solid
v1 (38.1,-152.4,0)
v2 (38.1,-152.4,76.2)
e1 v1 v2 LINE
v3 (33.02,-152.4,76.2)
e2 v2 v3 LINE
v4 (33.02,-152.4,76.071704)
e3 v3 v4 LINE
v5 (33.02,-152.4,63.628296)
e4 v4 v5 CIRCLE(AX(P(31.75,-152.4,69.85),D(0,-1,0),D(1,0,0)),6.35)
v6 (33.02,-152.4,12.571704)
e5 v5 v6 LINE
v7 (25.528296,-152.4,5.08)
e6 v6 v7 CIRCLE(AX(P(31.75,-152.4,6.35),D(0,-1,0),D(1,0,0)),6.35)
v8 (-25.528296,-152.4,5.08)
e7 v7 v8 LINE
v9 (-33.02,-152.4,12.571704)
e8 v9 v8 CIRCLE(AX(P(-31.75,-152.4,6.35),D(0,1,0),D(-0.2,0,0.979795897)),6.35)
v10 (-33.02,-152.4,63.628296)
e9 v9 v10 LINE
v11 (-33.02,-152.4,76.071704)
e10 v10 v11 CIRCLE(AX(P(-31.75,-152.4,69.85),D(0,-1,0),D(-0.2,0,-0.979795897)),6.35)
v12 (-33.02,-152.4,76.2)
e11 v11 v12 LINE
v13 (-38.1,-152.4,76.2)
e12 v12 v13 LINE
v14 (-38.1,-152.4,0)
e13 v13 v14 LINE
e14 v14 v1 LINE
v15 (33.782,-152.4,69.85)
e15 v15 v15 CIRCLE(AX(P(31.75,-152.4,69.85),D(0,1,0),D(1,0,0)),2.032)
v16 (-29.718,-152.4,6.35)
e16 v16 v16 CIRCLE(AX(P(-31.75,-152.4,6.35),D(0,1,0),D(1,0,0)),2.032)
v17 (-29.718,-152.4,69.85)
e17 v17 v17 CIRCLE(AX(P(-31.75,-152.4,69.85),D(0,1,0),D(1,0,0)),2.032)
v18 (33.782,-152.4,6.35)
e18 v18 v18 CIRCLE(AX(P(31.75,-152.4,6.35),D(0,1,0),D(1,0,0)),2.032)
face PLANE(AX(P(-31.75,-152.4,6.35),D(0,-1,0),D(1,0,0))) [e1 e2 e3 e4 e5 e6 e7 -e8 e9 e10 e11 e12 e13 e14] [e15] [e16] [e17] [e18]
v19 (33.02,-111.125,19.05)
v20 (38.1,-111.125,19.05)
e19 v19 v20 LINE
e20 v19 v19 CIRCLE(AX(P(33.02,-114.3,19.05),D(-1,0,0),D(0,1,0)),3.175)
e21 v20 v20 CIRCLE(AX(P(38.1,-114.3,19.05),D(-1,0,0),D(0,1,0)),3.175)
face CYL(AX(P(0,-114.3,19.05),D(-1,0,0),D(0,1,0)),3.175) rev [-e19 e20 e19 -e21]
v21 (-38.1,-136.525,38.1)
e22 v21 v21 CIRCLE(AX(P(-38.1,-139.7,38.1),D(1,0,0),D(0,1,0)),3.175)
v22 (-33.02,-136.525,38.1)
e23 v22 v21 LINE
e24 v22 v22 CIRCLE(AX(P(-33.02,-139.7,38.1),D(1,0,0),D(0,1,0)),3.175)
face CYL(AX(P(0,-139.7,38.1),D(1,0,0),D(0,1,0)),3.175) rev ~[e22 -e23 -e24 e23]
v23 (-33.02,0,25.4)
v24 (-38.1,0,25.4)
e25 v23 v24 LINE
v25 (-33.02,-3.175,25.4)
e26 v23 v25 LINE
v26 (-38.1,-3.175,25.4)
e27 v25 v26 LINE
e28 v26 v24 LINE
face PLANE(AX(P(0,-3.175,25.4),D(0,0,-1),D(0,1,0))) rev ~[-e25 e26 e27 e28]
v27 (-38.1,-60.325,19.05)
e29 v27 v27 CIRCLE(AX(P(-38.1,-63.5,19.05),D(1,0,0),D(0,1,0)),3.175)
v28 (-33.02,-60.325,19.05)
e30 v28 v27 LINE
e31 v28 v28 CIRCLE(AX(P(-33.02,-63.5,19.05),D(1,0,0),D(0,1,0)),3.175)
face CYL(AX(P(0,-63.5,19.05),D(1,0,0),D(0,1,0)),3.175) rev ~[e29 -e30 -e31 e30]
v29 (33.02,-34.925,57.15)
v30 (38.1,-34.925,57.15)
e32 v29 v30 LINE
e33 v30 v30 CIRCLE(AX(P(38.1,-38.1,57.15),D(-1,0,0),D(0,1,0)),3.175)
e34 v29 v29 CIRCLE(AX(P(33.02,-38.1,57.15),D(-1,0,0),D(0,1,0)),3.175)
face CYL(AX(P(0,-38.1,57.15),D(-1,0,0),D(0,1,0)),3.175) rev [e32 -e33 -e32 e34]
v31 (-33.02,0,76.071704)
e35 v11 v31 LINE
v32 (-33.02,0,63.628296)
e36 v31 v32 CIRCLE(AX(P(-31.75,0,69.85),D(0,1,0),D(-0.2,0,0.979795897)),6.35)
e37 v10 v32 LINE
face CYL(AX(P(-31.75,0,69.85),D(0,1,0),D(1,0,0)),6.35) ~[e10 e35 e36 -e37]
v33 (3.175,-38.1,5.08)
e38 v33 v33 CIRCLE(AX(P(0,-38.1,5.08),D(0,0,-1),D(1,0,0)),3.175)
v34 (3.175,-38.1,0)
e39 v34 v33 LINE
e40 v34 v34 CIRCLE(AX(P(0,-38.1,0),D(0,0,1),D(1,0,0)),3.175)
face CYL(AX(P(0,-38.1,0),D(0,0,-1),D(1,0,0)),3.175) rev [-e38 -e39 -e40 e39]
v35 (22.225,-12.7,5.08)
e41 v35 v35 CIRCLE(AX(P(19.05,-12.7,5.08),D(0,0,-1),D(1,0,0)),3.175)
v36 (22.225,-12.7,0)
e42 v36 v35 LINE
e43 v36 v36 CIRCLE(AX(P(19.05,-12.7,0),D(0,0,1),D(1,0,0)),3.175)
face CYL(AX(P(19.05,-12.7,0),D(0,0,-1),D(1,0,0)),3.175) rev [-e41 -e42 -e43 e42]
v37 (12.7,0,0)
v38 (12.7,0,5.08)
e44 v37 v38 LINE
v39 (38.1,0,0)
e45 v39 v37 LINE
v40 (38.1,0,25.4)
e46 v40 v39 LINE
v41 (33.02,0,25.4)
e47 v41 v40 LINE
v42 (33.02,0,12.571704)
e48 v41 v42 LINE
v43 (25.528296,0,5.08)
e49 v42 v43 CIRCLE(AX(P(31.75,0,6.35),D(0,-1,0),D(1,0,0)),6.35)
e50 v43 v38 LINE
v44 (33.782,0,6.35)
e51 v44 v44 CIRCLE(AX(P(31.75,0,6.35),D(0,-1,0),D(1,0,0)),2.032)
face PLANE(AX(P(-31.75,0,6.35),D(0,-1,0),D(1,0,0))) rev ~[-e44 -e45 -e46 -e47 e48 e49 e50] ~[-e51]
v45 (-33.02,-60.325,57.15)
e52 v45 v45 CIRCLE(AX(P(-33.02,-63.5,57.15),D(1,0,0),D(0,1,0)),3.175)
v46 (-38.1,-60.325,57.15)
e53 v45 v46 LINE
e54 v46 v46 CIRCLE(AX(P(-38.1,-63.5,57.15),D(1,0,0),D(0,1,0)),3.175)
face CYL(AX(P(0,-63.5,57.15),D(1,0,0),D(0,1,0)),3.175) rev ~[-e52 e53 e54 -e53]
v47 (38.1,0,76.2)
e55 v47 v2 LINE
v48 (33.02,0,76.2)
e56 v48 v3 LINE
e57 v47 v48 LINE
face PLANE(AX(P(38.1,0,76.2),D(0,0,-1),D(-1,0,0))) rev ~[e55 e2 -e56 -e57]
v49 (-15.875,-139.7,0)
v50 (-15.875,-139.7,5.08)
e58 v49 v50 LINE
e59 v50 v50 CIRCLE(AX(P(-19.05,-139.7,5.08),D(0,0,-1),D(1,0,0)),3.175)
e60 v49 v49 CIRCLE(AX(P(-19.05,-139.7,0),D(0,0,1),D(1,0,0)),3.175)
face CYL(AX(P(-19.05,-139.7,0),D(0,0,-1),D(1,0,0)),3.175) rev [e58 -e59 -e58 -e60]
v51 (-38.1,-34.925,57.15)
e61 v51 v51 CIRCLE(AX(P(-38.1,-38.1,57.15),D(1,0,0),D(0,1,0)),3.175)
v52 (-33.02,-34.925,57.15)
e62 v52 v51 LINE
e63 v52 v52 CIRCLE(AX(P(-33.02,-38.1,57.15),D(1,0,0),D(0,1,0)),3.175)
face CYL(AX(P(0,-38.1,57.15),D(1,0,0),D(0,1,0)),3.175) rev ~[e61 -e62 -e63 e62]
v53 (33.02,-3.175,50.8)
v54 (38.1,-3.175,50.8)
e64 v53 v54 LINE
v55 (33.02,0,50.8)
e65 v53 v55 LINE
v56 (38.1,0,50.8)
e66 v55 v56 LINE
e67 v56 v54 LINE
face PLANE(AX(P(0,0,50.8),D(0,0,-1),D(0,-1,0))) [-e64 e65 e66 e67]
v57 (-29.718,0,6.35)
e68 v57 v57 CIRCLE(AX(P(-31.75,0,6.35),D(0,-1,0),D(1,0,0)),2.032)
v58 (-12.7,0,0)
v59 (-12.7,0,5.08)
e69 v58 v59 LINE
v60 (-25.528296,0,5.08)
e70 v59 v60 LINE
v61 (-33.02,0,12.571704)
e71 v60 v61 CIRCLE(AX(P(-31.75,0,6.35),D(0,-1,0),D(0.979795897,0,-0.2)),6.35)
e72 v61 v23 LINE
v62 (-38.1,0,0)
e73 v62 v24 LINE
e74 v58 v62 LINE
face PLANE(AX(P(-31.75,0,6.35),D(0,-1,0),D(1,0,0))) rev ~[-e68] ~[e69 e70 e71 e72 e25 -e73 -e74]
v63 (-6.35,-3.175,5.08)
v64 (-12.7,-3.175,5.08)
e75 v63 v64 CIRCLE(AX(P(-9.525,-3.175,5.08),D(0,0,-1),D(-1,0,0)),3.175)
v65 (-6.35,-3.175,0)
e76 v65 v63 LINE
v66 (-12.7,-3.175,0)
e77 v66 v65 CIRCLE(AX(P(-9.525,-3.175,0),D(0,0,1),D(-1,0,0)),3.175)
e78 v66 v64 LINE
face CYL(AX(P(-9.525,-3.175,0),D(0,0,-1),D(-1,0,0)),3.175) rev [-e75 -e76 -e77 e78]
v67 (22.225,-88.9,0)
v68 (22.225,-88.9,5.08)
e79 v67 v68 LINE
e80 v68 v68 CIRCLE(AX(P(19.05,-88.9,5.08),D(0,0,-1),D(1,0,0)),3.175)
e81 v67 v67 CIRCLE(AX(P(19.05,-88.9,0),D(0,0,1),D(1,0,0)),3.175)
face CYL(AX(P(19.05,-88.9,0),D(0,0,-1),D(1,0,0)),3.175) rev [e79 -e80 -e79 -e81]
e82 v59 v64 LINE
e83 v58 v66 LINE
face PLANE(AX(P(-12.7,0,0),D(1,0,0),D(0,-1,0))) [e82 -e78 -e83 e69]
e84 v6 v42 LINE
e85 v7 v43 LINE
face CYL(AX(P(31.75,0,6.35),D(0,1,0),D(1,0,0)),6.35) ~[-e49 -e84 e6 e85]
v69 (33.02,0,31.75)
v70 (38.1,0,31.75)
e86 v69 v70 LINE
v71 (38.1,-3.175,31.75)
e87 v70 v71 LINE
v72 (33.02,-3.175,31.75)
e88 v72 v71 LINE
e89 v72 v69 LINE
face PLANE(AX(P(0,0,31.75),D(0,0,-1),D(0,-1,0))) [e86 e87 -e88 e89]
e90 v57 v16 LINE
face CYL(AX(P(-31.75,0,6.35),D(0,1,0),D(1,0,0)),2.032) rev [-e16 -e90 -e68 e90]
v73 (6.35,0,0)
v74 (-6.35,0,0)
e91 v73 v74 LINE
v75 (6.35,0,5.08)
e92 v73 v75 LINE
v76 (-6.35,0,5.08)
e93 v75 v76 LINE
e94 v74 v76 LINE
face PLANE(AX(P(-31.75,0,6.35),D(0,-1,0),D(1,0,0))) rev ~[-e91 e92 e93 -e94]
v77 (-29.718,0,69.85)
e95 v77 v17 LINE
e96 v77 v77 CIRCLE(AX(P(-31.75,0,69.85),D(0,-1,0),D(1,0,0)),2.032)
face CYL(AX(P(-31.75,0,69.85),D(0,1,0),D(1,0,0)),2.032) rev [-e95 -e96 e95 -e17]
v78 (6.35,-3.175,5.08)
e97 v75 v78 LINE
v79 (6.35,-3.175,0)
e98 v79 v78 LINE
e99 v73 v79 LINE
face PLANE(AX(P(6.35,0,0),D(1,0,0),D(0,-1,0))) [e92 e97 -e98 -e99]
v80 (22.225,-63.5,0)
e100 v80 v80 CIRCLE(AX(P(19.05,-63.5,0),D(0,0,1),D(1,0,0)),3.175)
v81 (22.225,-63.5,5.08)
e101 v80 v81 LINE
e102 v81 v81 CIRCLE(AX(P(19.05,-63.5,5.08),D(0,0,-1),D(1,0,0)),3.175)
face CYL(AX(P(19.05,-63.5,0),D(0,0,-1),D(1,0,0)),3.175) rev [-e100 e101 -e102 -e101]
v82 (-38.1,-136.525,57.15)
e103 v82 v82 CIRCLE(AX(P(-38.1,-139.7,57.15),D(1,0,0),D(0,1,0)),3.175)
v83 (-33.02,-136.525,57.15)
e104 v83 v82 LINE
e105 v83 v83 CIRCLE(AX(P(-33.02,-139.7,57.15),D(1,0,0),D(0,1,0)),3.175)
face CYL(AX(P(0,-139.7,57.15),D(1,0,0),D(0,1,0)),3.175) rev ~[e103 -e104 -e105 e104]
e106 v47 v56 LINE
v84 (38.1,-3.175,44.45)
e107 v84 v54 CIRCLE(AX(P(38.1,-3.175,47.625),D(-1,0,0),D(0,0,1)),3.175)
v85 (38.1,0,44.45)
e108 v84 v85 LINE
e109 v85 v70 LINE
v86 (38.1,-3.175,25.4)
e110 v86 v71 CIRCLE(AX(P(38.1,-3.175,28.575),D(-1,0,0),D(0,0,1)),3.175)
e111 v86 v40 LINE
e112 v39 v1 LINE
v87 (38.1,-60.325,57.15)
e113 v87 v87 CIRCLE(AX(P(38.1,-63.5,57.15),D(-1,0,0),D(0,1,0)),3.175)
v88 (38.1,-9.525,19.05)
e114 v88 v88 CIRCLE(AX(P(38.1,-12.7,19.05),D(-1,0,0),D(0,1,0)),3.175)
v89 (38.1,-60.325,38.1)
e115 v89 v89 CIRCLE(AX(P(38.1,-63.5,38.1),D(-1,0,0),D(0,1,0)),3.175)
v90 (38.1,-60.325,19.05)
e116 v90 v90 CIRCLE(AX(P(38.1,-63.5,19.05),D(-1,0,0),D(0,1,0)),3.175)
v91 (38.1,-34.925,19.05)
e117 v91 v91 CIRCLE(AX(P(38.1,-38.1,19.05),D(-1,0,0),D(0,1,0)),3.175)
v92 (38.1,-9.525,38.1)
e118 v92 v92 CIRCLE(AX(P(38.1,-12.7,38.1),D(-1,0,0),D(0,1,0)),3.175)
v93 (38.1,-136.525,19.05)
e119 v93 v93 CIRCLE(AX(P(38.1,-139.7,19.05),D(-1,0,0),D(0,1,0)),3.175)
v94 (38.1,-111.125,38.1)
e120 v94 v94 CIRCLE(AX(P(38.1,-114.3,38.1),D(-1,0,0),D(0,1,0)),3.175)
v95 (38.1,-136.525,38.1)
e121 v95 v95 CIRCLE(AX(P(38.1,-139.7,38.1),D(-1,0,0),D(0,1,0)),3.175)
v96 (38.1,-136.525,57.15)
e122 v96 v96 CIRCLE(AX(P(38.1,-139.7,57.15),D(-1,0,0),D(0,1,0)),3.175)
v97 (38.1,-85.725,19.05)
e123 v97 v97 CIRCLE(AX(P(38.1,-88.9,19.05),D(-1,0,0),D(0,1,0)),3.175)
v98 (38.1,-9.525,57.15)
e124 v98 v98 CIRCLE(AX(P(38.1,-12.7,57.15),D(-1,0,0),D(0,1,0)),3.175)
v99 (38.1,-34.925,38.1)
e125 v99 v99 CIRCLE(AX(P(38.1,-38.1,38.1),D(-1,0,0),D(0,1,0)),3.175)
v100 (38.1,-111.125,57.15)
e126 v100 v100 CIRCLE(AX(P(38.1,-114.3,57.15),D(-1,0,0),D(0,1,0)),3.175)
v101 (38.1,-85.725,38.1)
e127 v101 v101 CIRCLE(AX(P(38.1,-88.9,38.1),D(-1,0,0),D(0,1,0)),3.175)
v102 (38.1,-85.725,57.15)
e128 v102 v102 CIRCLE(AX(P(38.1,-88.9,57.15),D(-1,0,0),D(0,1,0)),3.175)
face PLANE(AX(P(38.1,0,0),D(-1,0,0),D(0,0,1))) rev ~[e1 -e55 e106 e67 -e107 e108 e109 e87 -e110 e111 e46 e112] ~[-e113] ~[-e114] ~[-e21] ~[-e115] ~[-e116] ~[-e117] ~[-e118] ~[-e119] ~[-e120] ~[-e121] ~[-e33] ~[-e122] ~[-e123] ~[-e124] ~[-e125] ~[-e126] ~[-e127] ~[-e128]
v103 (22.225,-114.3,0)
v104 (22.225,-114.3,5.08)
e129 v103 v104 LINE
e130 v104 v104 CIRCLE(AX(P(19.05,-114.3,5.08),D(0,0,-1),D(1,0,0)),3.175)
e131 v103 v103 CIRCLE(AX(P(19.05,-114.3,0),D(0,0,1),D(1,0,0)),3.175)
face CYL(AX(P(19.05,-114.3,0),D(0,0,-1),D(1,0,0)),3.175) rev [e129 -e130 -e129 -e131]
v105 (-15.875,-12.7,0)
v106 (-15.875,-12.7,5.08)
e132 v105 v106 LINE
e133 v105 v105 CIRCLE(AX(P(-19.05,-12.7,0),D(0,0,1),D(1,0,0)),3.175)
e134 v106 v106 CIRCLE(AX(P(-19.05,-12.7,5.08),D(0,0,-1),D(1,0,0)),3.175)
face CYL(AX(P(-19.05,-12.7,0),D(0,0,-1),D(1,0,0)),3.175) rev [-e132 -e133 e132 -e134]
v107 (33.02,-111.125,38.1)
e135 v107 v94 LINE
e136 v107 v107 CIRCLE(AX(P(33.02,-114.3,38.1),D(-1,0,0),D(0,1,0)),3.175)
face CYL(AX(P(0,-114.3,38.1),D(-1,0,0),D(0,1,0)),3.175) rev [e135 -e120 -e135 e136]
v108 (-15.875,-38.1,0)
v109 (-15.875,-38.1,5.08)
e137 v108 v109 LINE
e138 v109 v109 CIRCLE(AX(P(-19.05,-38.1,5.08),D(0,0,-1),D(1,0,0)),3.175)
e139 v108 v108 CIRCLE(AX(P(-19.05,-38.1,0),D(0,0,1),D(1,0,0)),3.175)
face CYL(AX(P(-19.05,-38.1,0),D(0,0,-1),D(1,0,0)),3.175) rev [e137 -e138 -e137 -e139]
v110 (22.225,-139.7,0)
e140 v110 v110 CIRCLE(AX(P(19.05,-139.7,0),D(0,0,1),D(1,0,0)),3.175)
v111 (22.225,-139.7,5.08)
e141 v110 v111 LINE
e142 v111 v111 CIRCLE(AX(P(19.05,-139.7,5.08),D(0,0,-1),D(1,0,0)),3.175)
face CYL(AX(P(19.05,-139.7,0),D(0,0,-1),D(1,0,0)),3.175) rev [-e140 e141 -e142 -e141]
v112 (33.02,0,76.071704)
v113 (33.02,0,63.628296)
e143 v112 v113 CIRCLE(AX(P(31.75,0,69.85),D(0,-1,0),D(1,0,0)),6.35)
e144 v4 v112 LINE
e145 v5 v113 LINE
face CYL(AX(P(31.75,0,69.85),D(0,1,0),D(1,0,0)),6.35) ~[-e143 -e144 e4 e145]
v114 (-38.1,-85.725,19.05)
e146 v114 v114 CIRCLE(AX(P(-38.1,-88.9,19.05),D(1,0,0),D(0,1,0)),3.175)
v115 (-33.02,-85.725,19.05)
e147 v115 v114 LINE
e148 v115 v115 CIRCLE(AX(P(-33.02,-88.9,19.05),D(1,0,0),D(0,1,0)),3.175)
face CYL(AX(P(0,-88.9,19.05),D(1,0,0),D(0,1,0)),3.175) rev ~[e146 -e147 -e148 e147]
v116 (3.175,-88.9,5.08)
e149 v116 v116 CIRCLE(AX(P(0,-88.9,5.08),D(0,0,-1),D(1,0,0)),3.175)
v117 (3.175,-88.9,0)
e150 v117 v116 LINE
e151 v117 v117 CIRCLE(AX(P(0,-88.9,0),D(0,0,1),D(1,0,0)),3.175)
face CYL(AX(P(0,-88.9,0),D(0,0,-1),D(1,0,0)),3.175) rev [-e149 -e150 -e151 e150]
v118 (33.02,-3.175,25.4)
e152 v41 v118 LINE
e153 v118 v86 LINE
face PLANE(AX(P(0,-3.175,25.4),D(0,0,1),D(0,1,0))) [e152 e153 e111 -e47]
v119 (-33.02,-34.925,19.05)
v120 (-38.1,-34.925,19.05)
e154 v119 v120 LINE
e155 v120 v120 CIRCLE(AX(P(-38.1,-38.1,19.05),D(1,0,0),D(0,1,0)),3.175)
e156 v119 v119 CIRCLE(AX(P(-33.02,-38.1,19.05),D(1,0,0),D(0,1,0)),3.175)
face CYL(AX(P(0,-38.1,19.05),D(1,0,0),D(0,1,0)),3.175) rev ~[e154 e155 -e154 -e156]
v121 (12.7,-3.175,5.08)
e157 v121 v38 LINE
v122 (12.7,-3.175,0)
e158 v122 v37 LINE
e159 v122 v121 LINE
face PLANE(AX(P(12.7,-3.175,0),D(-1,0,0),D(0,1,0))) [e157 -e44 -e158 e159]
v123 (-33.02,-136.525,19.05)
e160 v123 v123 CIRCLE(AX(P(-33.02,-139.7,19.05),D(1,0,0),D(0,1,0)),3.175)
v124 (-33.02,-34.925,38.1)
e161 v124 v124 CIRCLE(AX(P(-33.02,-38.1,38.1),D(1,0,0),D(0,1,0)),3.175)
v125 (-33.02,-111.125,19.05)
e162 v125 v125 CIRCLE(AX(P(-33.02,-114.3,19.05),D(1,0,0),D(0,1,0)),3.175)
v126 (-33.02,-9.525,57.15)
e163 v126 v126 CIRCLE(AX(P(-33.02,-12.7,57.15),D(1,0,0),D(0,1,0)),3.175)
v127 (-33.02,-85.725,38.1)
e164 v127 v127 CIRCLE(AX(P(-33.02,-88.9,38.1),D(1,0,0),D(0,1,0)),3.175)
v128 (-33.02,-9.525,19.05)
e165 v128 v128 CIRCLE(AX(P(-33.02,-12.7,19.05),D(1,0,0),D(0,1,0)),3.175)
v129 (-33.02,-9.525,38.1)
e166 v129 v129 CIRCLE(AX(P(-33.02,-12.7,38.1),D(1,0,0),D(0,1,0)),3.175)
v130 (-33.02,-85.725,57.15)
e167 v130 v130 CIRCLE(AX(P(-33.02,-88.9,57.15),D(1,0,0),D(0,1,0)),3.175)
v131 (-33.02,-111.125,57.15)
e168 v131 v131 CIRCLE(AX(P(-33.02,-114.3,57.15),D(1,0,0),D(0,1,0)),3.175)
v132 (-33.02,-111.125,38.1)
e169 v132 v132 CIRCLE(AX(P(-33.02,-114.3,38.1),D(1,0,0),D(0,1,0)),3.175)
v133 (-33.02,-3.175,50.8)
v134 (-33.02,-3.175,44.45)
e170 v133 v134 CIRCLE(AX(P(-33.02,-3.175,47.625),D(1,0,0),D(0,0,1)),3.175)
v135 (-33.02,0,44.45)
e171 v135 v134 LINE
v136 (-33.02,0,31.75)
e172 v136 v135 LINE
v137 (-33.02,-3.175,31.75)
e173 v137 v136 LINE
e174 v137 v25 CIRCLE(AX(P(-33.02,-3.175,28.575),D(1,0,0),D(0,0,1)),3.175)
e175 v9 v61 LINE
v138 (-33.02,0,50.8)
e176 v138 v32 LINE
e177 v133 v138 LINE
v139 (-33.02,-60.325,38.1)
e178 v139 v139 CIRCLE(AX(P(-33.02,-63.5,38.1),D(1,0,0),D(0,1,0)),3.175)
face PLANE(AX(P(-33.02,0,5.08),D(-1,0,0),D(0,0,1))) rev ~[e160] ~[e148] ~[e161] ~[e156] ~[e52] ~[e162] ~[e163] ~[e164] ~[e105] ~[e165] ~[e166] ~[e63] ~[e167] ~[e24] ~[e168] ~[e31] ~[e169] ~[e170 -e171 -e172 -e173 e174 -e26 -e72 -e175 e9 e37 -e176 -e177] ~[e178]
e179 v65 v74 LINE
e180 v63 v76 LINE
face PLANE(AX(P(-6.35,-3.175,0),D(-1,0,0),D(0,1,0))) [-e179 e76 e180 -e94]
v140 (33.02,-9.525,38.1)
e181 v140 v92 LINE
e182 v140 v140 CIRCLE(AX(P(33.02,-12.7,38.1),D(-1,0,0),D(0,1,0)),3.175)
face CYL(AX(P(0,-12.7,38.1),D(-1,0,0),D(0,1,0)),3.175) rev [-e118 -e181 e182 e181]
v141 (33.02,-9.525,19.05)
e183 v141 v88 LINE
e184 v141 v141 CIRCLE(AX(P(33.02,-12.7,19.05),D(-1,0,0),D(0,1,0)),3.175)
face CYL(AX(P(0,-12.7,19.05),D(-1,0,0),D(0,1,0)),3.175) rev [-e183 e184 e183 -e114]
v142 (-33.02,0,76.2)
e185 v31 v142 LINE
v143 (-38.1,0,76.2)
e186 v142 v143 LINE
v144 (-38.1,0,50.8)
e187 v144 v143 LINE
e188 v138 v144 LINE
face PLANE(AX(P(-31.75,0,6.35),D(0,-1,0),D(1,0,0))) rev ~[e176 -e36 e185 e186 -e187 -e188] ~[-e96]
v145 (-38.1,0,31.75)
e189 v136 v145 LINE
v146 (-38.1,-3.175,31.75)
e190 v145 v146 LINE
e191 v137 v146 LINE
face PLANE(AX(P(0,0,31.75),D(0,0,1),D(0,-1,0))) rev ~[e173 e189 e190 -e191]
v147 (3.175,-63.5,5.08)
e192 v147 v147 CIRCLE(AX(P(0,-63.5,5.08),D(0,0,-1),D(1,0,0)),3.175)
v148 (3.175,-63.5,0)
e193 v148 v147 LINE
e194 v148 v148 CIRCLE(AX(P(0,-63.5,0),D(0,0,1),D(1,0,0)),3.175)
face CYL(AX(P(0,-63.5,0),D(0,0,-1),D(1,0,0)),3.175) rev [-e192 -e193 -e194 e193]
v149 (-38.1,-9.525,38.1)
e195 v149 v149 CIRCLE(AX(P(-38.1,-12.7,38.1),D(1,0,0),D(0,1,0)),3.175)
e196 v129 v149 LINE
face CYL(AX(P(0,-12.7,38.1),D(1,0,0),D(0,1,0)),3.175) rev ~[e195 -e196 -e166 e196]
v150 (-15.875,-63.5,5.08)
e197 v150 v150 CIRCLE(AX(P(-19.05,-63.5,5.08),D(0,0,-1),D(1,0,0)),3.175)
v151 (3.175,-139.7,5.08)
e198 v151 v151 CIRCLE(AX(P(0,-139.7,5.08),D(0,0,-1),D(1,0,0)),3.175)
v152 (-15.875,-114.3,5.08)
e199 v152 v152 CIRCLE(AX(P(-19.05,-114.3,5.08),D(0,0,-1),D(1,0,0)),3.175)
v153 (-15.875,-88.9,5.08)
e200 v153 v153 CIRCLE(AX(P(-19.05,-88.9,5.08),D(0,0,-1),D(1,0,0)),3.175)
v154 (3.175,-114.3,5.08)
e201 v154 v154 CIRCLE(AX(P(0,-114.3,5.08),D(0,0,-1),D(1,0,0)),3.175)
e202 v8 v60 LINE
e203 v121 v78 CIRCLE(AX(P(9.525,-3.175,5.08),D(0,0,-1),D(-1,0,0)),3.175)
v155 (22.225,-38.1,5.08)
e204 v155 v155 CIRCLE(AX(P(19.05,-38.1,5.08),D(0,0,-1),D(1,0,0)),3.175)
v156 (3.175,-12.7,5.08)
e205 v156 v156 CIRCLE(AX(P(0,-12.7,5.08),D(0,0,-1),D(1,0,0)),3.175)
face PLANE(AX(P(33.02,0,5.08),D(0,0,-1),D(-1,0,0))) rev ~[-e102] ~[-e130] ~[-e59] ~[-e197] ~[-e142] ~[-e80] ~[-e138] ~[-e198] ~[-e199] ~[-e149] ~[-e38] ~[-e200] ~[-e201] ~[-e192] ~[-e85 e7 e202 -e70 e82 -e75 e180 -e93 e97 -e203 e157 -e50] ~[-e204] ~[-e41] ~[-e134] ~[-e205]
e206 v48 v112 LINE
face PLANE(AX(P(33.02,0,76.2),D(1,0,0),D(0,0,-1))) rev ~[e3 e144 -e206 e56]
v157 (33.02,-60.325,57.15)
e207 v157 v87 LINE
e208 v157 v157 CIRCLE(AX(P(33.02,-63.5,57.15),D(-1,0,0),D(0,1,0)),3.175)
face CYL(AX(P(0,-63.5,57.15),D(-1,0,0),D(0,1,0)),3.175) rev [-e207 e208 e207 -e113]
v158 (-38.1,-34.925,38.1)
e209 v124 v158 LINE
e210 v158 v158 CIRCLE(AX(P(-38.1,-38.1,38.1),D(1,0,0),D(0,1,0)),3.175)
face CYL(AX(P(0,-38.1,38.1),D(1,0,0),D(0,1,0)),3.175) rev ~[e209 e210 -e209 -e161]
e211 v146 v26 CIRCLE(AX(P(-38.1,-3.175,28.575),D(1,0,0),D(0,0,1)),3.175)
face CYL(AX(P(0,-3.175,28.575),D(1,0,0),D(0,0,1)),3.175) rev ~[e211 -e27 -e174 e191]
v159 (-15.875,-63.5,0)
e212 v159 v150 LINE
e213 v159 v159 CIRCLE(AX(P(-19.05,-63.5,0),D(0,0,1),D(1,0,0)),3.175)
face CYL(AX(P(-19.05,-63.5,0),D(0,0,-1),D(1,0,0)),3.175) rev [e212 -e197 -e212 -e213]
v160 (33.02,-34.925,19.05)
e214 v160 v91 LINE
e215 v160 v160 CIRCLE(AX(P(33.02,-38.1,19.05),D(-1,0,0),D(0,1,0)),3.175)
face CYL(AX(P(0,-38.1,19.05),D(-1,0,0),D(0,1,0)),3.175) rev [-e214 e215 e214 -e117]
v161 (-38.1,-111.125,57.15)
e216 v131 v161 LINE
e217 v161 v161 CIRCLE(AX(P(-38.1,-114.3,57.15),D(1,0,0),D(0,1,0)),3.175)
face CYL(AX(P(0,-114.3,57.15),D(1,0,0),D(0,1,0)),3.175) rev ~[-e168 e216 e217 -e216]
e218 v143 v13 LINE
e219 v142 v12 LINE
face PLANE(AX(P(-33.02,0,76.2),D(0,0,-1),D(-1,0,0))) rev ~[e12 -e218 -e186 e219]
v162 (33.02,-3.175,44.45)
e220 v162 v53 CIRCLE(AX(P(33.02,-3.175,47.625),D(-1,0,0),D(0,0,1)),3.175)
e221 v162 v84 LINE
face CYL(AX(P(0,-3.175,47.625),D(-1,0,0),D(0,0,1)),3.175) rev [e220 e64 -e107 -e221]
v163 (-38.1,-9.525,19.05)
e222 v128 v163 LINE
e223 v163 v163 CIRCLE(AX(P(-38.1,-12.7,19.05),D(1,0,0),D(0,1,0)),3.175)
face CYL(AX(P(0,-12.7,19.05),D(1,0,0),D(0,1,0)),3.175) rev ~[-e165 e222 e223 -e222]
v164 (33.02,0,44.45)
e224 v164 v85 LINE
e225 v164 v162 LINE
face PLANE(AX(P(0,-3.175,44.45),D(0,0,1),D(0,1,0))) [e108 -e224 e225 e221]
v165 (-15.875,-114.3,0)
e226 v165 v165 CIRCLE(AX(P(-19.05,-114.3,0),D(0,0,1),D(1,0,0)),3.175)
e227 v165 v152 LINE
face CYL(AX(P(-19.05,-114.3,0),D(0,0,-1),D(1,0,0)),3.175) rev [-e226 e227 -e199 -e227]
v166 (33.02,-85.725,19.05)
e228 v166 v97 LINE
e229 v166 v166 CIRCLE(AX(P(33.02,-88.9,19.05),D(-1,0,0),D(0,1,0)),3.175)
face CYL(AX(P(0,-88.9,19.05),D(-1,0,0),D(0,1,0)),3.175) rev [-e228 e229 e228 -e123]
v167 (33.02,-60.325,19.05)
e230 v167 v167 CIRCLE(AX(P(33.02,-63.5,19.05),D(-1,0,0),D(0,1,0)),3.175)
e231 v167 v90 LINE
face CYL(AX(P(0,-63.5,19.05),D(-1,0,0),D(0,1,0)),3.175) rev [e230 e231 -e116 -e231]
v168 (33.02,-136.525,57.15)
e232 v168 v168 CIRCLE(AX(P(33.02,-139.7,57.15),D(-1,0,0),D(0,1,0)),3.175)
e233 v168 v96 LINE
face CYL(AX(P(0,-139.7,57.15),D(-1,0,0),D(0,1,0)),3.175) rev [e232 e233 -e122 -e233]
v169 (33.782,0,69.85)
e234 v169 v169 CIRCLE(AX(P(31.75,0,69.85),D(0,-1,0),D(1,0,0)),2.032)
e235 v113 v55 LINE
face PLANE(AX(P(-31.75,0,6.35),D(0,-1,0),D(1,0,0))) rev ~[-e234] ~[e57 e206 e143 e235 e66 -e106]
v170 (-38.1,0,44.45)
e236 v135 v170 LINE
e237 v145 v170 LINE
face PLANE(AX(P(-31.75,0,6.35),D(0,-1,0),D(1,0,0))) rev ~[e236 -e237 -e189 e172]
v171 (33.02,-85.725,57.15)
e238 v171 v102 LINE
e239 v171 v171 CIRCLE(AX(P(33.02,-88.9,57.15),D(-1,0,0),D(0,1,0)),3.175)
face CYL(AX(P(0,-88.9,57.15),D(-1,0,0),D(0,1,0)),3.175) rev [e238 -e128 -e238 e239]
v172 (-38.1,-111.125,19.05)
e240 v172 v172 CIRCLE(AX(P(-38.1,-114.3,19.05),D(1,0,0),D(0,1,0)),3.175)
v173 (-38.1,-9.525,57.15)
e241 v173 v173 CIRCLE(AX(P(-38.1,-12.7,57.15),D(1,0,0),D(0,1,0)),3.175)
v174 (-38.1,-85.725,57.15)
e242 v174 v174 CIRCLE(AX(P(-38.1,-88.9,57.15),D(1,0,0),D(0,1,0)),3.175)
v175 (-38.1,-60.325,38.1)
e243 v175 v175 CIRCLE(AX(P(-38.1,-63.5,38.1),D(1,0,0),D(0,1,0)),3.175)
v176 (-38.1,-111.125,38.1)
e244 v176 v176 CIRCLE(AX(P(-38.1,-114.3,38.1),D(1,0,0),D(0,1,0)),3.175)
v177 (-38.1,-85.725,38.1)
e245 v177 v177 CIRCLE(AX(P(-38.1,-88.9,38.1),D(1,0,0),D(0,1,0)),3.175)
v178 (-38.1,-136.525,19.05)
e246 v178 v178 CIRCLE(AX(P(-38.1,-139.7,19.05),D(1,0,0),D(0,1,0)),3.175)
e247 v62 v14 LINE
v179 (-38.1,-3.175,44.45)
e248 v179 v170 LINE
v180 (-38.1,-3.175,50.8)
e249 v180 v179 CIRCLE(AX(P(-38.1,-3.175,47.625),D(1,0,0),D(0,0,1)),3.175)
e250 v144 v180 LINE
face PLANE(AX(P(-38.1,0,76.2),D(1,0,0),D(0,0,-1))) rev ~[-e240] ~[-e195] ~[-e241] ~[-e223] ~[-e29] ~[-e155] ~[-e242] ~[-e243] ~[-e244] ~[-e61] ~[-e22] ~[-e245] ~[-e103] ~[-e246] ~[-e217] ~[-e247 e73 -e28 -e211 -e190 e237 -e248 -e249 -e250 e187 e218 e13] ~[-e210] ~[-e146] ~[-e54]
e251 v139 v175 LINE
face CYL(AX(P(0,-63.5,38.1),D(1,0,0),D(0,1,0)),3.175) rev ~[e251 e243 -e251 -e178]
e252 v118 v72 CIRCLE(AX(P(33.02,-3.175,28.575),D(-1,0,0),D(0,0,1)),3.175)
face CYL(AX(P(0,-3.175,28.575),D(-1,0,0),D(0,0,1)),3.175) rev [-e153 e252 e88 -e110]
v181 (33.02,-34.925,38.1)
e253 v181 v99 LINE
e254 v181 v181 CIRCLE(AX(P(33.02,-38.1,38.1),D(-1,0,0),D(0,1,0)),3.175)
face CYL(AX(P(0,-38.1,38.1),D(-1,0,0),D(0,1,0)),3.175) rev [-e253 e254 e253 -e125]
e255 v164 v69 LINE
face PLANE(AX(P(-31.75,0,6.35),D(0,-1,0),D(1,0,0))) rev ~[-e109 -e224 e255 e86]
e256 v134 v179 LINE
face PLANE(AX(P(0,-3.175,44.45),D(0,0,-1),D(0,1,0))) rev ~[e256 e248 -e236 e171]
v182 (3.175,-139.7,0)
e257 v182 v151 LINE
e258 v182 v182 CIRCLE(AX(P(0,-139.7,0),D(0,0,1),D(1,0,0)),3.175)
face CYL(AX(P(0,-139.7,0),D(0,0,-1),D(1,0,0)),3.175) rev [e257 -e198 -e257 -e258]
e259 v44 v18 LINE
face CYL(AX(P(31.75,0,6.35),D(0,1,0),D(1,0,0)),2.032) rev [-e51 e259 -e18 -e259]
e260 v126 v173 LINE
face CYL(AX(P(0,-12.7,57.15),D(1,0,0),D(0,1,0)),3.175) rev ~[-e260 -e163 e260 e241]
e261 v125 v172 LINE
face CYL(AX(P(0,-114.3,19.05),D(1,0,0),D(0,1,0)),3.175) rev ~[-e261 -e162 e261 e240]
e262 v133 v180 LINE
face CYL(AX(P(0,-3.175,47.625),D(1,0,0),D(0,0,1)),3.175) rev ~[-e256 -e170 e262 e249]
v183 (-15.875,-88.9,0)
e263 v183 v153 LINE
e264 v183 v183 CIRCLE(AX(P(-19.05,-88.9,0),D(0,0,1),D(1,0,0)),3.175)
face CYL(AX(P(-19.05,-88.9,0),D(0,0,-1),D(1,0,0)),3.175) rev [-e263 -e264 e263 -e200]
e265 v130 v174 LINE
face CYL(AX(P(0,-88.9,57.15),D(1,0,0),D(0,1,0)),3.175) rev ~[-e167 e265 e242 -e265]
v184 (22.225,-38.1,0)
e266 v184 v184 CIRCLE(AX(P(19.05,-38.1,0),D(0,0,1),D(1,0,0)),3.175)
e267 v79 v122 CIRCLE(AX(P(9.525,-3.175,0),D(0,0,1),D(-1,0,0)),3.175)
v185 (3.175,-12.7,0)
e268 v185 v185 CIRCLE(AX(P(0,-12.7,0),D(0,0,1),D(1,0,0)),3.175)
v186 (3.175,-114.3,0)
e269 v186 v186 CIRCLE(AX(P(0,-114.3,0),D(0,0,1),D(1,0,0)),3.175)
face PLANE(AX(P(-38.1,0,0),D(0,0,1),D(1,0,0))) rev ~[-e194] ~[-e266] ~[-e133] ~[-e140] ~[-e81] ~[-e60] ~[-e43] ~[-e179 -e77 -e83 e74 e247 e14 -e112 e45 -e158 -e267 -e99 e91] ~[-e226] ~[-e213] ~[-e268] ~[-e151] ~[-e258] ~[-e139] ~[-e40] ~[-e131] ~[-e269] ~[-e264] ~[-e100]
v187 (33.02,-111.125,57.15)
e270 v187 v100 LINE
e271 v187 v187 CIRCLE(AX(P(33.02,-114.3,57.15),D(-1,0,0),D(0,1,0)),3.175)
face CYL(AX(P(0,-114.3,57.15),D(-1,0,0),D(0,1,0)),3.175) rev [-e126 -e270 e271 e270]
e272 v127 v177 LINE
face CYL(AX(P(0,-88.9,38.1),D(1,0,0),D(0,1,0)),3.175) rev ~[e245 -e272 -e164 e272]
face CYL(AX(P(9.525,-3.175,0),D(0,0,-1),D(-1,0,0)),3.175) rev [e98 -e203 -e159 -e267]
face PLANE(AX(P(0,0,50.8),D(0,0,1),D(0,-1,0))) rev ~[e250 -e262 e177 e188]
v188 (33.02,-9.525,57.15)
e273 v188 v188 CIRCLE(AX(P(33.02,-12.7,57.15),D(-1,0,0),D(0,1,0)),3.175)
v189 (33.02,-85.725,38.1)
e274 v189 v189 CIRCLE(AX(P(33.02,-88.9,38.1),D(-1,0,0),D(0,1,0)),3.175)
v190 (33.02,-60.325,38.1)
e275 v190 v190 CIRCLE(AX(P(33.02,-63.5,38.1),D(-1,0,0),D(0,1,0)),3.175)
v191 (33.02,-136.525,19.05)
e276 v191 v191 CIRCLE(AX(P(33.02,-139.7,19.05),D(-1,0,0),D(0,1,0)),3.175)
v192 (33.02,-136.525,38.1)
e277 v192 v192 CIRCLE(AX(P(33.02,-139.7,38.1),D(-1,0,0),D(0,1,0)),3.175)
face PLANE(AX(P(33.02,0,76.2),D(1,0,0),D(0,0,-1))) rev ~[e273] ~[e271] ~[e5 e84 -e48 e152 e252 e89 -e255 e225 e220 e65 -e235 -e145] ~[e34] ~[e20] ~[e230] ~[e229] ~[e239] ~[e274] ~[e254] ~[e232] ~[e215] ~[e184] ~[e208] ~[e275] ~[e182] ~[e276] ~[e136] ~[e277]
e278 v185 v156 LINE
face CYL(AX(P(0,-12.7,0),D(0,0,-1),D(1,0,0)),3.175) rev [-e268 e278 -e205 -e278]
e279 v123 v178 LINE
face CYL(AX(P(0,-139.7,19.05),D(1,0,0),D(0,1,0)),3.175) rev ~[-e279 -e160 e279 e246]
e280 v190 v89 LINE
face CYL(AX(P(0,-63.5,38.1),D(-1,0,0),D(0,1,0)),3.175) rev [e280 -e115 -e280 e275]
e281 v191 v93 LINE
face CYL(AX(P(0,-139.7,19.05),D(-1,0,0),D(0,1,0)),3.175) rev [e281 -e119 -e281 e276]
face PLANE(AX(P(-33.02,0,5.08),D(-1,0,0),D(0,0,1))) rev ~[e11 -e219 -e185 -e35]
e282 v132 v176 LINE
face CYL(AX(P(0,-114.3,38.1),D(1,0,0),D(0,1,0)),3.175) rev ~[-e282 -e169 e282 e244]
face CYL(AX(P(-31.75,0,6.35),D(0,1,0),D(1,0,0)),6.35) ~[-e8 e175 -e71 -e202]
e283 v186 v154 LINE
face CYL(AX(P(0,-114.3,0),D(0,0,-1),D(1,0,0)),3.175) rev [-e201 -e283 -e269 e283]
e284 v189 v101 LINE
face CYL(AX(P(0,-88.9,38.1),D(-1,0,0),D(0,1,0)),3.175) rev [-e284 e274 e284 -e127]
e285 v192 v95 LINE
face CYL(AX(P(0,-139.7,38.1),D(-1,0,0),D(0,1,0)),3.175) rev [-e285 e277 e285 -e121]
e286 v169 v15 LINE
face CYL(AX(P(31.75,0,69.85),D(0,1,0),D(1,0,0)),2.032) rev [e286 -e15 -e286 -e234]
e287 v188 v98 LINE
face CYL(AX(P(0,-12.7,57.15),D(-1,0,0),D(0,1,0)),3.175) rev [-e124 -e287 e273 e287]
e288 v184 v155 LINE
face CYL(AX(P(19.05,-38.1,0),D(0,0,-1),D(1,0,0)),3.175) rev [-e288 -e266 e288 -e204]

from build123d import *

# Parameters (mm, degrees)
F3_DEPTH       = 152.4
F1_R           = 6.35
F4_DEPTH       = 152.4
F2_R           = 2.032
F5_DEPTH       = 152.401
F6_R           = 3.175
F7_DEPTH       = 38.101
F7_DEPTH_BACK  = 38.101
F8_R           = 3.175
F9_DEPTH       = 76.201
F11_DEPTH      = 38.101
F11_DEPTH_BACK = 38.101
F13_DEPTH      = 76.201


with BuildPart() as f3:
    # F0 (on Front) → F3 (new body)
    with BuildSketch(Plane.XZ):
        Polygon((-38.1, 76.2), (-38.1, 0), (38.1, 0), (38.1, 76.2), (33.02, 76.2), (33.02, 5.08), (-33.02, 5.08), (-33.02, 76.2), align=None)
    extrude(amount=F3_DEPTH)

    # F1 (on Front) → F4 (join)
    with BuildSketch(Plane.XZ):
        with Locations((-31.75, 6.35)):
            Circle(F1_R)
        with Locations((31.75, 6.35)):
            Circle(F1_R)
        with Locations((-31.75, 69.85)):
            Circle(F1_R)
        with Locations((31.75, 69.85)):
            Circle(F1_R)
    extrude(amount=F4_DEPTH)

    # F2 (on Front) → F5 (cut, through all)
    with BuildSketch(Plane.XZ):
        with Locations((-31.75, 69.85)):
            Circle(F2_R)
        with Locations((31.75, 69.85)):
            Circle(F2_R)
        with Locations((-31.75, 6.35)):
            Circle(F2_R)
        with Locations((31.75, 6.35)):
            Circle(F2_R)
    extrude(amount=F5_DEPTH, mode=Mode.SUBTRACT)

    # F6 (on Right) → F7 (cut, two sides)
    with BuildSketch(Plane.YZ) as f7_sk:
        with Locations((-12.7, 19.05)):
            Circle(F6_R)
        with Locations((-12.7, 38.1)):
            Circle(F6_R)
        with Locations((-12.7, 57.15)):
            Circle(F6_R)
        with Locations((-38.1, 19.05)):
            Circle(F6_R)
        with Locations((-38.1, 38.1)):
            Circle(F6_R)
        with Locations((-38.1, 57.15)):
            Circle(F6_R)
        with Locations((-63.5, 19.05)):
            Circle(F6_R)
        with Locations((-63.5, 38.1)):
            Circle(F6_R)
        with Locations((-63.5, 57.15)):
            Circle(F6_R)
        with Locations((-88.9, 19.05)):
            Circle(F6_R)
        with Locations((-88.9, 38.1)):
            Circle(F6_R)
        with Locations((-88.9, 57.15)):
            Circle(F6_R)
        with Locations((-114.3, 19.05)):
            Circle(F6_R)
        with Locations((-114.3, 38.1)):
            Circle(F6_R)
        with Locations((-114.3, 57.15)):
            Circle(F6_R)
        with Locations((-139.7, 19.05)):
            Circle(F6_R)
        with Locations((-139.7, 38.1)):
            Circle(F6_R)
        with Locations((-139.7, 57.15)):
            Circle(F6_R)
    extrude(amount=-F7_DEPTH, mode=Mode.SUBTRACT)
    extrude(f7_sk.sketch, amount=F7_DEPTH_BACK, mode=Mode.SUBTRACT)

    # F8 (on Top) → F9 (cut, through all)
    with BuildSketch(Plane.XY):
        with Locations((-19.05, -12.7)):
            Circle(F8_R)
        with Locations((-19.05, -38.1)):
            Circle(F8_R)
        with Locations((-19.05, -63.5)):
            Circle(F8_R)
        with Locations((-19.05, -88.9)):
            Circle(F8_R)
        with Locations((0, -12.7)):
            Circle(F8_R)
        with Locations((0, -38.1)):
            Circle(F8_R)
        with Locations((0, -63.5)):
            Circle(F8_R)
        with Locations((0, -88.9)):
            Circle(F8_R)
        with Locations((19.05, -12.7)):
            Circle(F8_R)
        with Locations((19.05, -38.1)):
            Circle(F8_R)
        with Locations((19.05, -63.5)):
            Circle(F8_R)
        with Locations((19.05, -88.9)):
            Circle(F8_R)
        with Locations((-19.05, -114.3)):
            Circle(F8_R)
        with Locations((-19.05, -139.7)):
            Circle(F8_R)
        with Locations((0, -114.3)):
            Circle(F8_R)
        with Locations((0, -139.7)):
            Circle(F8_R)
        with Locations((19.05, -114.3)):
            Circle(F8_R)
        with Locations((19.05, -139.7)):
            Circle(F8_R)
    extrude(amount=F9_DEPTH, mode=Mode.SUBTRACT)

    # F10 (on Right) → F11 (cut, two sides)
    with BuildSketch(Plane.YZ) as f11_sk:
        with BuildLine():
            Line((0, 44.45), (0, 50.8))
            Line((0, 50.8), (-3.175, 50.8))
            ThreePointArc((-3.175, 50.8), (-6.35, 47.625), (-3.175, 44.45))
            Line((-3.175, 44.45), (0, 44.45))
        make_face()
        with BuildLine():
            Line((0, 25.4), (0, 31.75))
            Line((0, 31.75), (-3.175, 31.75))
            ThreePointArc((-3.175, 31.75), (-6.35, 28.575), (-3.175, 25.4))
            Line((-3.175, 25.4), (0, 25.4))
        make_face()
    extrude(amount=-F11_DEPTH, mode=Mode.SUBTRACT)
    extrude(f11_sk.sketch, amount=F11_DEPTH_BACK, mode=Mode.SUBTRACT)

    # F12 (on Top) → F13 (cut, through all)
    with BuildSketch(Plane.XY):
        with BuildLine():
            Line((-6.35, 0), (-12.7, 0))
            Line((-12.7, 0), (-12.7, -3.175))
            ThreePointArc((-12.7, -3.175), (-9.525, -6.35), (-6.35, -3.175))
            Line((-6.35, -3.175), (-6.35, 0))
        make_face()
        with BuildLine():
            Line((12.7, 0), (6.35, 0))
            Line((6.35, 0), (6.35, -3.175))
            ThreePointArc((6.35, -3.175), (9.525, -6.35), (12.7, -3.175))
            Line((12.7, -3.175), (12.7, 0))
        make_face()
    extrude(amount=F13_DEPTH, mode=Mode.SUBTRACT)


solid = f3.part
